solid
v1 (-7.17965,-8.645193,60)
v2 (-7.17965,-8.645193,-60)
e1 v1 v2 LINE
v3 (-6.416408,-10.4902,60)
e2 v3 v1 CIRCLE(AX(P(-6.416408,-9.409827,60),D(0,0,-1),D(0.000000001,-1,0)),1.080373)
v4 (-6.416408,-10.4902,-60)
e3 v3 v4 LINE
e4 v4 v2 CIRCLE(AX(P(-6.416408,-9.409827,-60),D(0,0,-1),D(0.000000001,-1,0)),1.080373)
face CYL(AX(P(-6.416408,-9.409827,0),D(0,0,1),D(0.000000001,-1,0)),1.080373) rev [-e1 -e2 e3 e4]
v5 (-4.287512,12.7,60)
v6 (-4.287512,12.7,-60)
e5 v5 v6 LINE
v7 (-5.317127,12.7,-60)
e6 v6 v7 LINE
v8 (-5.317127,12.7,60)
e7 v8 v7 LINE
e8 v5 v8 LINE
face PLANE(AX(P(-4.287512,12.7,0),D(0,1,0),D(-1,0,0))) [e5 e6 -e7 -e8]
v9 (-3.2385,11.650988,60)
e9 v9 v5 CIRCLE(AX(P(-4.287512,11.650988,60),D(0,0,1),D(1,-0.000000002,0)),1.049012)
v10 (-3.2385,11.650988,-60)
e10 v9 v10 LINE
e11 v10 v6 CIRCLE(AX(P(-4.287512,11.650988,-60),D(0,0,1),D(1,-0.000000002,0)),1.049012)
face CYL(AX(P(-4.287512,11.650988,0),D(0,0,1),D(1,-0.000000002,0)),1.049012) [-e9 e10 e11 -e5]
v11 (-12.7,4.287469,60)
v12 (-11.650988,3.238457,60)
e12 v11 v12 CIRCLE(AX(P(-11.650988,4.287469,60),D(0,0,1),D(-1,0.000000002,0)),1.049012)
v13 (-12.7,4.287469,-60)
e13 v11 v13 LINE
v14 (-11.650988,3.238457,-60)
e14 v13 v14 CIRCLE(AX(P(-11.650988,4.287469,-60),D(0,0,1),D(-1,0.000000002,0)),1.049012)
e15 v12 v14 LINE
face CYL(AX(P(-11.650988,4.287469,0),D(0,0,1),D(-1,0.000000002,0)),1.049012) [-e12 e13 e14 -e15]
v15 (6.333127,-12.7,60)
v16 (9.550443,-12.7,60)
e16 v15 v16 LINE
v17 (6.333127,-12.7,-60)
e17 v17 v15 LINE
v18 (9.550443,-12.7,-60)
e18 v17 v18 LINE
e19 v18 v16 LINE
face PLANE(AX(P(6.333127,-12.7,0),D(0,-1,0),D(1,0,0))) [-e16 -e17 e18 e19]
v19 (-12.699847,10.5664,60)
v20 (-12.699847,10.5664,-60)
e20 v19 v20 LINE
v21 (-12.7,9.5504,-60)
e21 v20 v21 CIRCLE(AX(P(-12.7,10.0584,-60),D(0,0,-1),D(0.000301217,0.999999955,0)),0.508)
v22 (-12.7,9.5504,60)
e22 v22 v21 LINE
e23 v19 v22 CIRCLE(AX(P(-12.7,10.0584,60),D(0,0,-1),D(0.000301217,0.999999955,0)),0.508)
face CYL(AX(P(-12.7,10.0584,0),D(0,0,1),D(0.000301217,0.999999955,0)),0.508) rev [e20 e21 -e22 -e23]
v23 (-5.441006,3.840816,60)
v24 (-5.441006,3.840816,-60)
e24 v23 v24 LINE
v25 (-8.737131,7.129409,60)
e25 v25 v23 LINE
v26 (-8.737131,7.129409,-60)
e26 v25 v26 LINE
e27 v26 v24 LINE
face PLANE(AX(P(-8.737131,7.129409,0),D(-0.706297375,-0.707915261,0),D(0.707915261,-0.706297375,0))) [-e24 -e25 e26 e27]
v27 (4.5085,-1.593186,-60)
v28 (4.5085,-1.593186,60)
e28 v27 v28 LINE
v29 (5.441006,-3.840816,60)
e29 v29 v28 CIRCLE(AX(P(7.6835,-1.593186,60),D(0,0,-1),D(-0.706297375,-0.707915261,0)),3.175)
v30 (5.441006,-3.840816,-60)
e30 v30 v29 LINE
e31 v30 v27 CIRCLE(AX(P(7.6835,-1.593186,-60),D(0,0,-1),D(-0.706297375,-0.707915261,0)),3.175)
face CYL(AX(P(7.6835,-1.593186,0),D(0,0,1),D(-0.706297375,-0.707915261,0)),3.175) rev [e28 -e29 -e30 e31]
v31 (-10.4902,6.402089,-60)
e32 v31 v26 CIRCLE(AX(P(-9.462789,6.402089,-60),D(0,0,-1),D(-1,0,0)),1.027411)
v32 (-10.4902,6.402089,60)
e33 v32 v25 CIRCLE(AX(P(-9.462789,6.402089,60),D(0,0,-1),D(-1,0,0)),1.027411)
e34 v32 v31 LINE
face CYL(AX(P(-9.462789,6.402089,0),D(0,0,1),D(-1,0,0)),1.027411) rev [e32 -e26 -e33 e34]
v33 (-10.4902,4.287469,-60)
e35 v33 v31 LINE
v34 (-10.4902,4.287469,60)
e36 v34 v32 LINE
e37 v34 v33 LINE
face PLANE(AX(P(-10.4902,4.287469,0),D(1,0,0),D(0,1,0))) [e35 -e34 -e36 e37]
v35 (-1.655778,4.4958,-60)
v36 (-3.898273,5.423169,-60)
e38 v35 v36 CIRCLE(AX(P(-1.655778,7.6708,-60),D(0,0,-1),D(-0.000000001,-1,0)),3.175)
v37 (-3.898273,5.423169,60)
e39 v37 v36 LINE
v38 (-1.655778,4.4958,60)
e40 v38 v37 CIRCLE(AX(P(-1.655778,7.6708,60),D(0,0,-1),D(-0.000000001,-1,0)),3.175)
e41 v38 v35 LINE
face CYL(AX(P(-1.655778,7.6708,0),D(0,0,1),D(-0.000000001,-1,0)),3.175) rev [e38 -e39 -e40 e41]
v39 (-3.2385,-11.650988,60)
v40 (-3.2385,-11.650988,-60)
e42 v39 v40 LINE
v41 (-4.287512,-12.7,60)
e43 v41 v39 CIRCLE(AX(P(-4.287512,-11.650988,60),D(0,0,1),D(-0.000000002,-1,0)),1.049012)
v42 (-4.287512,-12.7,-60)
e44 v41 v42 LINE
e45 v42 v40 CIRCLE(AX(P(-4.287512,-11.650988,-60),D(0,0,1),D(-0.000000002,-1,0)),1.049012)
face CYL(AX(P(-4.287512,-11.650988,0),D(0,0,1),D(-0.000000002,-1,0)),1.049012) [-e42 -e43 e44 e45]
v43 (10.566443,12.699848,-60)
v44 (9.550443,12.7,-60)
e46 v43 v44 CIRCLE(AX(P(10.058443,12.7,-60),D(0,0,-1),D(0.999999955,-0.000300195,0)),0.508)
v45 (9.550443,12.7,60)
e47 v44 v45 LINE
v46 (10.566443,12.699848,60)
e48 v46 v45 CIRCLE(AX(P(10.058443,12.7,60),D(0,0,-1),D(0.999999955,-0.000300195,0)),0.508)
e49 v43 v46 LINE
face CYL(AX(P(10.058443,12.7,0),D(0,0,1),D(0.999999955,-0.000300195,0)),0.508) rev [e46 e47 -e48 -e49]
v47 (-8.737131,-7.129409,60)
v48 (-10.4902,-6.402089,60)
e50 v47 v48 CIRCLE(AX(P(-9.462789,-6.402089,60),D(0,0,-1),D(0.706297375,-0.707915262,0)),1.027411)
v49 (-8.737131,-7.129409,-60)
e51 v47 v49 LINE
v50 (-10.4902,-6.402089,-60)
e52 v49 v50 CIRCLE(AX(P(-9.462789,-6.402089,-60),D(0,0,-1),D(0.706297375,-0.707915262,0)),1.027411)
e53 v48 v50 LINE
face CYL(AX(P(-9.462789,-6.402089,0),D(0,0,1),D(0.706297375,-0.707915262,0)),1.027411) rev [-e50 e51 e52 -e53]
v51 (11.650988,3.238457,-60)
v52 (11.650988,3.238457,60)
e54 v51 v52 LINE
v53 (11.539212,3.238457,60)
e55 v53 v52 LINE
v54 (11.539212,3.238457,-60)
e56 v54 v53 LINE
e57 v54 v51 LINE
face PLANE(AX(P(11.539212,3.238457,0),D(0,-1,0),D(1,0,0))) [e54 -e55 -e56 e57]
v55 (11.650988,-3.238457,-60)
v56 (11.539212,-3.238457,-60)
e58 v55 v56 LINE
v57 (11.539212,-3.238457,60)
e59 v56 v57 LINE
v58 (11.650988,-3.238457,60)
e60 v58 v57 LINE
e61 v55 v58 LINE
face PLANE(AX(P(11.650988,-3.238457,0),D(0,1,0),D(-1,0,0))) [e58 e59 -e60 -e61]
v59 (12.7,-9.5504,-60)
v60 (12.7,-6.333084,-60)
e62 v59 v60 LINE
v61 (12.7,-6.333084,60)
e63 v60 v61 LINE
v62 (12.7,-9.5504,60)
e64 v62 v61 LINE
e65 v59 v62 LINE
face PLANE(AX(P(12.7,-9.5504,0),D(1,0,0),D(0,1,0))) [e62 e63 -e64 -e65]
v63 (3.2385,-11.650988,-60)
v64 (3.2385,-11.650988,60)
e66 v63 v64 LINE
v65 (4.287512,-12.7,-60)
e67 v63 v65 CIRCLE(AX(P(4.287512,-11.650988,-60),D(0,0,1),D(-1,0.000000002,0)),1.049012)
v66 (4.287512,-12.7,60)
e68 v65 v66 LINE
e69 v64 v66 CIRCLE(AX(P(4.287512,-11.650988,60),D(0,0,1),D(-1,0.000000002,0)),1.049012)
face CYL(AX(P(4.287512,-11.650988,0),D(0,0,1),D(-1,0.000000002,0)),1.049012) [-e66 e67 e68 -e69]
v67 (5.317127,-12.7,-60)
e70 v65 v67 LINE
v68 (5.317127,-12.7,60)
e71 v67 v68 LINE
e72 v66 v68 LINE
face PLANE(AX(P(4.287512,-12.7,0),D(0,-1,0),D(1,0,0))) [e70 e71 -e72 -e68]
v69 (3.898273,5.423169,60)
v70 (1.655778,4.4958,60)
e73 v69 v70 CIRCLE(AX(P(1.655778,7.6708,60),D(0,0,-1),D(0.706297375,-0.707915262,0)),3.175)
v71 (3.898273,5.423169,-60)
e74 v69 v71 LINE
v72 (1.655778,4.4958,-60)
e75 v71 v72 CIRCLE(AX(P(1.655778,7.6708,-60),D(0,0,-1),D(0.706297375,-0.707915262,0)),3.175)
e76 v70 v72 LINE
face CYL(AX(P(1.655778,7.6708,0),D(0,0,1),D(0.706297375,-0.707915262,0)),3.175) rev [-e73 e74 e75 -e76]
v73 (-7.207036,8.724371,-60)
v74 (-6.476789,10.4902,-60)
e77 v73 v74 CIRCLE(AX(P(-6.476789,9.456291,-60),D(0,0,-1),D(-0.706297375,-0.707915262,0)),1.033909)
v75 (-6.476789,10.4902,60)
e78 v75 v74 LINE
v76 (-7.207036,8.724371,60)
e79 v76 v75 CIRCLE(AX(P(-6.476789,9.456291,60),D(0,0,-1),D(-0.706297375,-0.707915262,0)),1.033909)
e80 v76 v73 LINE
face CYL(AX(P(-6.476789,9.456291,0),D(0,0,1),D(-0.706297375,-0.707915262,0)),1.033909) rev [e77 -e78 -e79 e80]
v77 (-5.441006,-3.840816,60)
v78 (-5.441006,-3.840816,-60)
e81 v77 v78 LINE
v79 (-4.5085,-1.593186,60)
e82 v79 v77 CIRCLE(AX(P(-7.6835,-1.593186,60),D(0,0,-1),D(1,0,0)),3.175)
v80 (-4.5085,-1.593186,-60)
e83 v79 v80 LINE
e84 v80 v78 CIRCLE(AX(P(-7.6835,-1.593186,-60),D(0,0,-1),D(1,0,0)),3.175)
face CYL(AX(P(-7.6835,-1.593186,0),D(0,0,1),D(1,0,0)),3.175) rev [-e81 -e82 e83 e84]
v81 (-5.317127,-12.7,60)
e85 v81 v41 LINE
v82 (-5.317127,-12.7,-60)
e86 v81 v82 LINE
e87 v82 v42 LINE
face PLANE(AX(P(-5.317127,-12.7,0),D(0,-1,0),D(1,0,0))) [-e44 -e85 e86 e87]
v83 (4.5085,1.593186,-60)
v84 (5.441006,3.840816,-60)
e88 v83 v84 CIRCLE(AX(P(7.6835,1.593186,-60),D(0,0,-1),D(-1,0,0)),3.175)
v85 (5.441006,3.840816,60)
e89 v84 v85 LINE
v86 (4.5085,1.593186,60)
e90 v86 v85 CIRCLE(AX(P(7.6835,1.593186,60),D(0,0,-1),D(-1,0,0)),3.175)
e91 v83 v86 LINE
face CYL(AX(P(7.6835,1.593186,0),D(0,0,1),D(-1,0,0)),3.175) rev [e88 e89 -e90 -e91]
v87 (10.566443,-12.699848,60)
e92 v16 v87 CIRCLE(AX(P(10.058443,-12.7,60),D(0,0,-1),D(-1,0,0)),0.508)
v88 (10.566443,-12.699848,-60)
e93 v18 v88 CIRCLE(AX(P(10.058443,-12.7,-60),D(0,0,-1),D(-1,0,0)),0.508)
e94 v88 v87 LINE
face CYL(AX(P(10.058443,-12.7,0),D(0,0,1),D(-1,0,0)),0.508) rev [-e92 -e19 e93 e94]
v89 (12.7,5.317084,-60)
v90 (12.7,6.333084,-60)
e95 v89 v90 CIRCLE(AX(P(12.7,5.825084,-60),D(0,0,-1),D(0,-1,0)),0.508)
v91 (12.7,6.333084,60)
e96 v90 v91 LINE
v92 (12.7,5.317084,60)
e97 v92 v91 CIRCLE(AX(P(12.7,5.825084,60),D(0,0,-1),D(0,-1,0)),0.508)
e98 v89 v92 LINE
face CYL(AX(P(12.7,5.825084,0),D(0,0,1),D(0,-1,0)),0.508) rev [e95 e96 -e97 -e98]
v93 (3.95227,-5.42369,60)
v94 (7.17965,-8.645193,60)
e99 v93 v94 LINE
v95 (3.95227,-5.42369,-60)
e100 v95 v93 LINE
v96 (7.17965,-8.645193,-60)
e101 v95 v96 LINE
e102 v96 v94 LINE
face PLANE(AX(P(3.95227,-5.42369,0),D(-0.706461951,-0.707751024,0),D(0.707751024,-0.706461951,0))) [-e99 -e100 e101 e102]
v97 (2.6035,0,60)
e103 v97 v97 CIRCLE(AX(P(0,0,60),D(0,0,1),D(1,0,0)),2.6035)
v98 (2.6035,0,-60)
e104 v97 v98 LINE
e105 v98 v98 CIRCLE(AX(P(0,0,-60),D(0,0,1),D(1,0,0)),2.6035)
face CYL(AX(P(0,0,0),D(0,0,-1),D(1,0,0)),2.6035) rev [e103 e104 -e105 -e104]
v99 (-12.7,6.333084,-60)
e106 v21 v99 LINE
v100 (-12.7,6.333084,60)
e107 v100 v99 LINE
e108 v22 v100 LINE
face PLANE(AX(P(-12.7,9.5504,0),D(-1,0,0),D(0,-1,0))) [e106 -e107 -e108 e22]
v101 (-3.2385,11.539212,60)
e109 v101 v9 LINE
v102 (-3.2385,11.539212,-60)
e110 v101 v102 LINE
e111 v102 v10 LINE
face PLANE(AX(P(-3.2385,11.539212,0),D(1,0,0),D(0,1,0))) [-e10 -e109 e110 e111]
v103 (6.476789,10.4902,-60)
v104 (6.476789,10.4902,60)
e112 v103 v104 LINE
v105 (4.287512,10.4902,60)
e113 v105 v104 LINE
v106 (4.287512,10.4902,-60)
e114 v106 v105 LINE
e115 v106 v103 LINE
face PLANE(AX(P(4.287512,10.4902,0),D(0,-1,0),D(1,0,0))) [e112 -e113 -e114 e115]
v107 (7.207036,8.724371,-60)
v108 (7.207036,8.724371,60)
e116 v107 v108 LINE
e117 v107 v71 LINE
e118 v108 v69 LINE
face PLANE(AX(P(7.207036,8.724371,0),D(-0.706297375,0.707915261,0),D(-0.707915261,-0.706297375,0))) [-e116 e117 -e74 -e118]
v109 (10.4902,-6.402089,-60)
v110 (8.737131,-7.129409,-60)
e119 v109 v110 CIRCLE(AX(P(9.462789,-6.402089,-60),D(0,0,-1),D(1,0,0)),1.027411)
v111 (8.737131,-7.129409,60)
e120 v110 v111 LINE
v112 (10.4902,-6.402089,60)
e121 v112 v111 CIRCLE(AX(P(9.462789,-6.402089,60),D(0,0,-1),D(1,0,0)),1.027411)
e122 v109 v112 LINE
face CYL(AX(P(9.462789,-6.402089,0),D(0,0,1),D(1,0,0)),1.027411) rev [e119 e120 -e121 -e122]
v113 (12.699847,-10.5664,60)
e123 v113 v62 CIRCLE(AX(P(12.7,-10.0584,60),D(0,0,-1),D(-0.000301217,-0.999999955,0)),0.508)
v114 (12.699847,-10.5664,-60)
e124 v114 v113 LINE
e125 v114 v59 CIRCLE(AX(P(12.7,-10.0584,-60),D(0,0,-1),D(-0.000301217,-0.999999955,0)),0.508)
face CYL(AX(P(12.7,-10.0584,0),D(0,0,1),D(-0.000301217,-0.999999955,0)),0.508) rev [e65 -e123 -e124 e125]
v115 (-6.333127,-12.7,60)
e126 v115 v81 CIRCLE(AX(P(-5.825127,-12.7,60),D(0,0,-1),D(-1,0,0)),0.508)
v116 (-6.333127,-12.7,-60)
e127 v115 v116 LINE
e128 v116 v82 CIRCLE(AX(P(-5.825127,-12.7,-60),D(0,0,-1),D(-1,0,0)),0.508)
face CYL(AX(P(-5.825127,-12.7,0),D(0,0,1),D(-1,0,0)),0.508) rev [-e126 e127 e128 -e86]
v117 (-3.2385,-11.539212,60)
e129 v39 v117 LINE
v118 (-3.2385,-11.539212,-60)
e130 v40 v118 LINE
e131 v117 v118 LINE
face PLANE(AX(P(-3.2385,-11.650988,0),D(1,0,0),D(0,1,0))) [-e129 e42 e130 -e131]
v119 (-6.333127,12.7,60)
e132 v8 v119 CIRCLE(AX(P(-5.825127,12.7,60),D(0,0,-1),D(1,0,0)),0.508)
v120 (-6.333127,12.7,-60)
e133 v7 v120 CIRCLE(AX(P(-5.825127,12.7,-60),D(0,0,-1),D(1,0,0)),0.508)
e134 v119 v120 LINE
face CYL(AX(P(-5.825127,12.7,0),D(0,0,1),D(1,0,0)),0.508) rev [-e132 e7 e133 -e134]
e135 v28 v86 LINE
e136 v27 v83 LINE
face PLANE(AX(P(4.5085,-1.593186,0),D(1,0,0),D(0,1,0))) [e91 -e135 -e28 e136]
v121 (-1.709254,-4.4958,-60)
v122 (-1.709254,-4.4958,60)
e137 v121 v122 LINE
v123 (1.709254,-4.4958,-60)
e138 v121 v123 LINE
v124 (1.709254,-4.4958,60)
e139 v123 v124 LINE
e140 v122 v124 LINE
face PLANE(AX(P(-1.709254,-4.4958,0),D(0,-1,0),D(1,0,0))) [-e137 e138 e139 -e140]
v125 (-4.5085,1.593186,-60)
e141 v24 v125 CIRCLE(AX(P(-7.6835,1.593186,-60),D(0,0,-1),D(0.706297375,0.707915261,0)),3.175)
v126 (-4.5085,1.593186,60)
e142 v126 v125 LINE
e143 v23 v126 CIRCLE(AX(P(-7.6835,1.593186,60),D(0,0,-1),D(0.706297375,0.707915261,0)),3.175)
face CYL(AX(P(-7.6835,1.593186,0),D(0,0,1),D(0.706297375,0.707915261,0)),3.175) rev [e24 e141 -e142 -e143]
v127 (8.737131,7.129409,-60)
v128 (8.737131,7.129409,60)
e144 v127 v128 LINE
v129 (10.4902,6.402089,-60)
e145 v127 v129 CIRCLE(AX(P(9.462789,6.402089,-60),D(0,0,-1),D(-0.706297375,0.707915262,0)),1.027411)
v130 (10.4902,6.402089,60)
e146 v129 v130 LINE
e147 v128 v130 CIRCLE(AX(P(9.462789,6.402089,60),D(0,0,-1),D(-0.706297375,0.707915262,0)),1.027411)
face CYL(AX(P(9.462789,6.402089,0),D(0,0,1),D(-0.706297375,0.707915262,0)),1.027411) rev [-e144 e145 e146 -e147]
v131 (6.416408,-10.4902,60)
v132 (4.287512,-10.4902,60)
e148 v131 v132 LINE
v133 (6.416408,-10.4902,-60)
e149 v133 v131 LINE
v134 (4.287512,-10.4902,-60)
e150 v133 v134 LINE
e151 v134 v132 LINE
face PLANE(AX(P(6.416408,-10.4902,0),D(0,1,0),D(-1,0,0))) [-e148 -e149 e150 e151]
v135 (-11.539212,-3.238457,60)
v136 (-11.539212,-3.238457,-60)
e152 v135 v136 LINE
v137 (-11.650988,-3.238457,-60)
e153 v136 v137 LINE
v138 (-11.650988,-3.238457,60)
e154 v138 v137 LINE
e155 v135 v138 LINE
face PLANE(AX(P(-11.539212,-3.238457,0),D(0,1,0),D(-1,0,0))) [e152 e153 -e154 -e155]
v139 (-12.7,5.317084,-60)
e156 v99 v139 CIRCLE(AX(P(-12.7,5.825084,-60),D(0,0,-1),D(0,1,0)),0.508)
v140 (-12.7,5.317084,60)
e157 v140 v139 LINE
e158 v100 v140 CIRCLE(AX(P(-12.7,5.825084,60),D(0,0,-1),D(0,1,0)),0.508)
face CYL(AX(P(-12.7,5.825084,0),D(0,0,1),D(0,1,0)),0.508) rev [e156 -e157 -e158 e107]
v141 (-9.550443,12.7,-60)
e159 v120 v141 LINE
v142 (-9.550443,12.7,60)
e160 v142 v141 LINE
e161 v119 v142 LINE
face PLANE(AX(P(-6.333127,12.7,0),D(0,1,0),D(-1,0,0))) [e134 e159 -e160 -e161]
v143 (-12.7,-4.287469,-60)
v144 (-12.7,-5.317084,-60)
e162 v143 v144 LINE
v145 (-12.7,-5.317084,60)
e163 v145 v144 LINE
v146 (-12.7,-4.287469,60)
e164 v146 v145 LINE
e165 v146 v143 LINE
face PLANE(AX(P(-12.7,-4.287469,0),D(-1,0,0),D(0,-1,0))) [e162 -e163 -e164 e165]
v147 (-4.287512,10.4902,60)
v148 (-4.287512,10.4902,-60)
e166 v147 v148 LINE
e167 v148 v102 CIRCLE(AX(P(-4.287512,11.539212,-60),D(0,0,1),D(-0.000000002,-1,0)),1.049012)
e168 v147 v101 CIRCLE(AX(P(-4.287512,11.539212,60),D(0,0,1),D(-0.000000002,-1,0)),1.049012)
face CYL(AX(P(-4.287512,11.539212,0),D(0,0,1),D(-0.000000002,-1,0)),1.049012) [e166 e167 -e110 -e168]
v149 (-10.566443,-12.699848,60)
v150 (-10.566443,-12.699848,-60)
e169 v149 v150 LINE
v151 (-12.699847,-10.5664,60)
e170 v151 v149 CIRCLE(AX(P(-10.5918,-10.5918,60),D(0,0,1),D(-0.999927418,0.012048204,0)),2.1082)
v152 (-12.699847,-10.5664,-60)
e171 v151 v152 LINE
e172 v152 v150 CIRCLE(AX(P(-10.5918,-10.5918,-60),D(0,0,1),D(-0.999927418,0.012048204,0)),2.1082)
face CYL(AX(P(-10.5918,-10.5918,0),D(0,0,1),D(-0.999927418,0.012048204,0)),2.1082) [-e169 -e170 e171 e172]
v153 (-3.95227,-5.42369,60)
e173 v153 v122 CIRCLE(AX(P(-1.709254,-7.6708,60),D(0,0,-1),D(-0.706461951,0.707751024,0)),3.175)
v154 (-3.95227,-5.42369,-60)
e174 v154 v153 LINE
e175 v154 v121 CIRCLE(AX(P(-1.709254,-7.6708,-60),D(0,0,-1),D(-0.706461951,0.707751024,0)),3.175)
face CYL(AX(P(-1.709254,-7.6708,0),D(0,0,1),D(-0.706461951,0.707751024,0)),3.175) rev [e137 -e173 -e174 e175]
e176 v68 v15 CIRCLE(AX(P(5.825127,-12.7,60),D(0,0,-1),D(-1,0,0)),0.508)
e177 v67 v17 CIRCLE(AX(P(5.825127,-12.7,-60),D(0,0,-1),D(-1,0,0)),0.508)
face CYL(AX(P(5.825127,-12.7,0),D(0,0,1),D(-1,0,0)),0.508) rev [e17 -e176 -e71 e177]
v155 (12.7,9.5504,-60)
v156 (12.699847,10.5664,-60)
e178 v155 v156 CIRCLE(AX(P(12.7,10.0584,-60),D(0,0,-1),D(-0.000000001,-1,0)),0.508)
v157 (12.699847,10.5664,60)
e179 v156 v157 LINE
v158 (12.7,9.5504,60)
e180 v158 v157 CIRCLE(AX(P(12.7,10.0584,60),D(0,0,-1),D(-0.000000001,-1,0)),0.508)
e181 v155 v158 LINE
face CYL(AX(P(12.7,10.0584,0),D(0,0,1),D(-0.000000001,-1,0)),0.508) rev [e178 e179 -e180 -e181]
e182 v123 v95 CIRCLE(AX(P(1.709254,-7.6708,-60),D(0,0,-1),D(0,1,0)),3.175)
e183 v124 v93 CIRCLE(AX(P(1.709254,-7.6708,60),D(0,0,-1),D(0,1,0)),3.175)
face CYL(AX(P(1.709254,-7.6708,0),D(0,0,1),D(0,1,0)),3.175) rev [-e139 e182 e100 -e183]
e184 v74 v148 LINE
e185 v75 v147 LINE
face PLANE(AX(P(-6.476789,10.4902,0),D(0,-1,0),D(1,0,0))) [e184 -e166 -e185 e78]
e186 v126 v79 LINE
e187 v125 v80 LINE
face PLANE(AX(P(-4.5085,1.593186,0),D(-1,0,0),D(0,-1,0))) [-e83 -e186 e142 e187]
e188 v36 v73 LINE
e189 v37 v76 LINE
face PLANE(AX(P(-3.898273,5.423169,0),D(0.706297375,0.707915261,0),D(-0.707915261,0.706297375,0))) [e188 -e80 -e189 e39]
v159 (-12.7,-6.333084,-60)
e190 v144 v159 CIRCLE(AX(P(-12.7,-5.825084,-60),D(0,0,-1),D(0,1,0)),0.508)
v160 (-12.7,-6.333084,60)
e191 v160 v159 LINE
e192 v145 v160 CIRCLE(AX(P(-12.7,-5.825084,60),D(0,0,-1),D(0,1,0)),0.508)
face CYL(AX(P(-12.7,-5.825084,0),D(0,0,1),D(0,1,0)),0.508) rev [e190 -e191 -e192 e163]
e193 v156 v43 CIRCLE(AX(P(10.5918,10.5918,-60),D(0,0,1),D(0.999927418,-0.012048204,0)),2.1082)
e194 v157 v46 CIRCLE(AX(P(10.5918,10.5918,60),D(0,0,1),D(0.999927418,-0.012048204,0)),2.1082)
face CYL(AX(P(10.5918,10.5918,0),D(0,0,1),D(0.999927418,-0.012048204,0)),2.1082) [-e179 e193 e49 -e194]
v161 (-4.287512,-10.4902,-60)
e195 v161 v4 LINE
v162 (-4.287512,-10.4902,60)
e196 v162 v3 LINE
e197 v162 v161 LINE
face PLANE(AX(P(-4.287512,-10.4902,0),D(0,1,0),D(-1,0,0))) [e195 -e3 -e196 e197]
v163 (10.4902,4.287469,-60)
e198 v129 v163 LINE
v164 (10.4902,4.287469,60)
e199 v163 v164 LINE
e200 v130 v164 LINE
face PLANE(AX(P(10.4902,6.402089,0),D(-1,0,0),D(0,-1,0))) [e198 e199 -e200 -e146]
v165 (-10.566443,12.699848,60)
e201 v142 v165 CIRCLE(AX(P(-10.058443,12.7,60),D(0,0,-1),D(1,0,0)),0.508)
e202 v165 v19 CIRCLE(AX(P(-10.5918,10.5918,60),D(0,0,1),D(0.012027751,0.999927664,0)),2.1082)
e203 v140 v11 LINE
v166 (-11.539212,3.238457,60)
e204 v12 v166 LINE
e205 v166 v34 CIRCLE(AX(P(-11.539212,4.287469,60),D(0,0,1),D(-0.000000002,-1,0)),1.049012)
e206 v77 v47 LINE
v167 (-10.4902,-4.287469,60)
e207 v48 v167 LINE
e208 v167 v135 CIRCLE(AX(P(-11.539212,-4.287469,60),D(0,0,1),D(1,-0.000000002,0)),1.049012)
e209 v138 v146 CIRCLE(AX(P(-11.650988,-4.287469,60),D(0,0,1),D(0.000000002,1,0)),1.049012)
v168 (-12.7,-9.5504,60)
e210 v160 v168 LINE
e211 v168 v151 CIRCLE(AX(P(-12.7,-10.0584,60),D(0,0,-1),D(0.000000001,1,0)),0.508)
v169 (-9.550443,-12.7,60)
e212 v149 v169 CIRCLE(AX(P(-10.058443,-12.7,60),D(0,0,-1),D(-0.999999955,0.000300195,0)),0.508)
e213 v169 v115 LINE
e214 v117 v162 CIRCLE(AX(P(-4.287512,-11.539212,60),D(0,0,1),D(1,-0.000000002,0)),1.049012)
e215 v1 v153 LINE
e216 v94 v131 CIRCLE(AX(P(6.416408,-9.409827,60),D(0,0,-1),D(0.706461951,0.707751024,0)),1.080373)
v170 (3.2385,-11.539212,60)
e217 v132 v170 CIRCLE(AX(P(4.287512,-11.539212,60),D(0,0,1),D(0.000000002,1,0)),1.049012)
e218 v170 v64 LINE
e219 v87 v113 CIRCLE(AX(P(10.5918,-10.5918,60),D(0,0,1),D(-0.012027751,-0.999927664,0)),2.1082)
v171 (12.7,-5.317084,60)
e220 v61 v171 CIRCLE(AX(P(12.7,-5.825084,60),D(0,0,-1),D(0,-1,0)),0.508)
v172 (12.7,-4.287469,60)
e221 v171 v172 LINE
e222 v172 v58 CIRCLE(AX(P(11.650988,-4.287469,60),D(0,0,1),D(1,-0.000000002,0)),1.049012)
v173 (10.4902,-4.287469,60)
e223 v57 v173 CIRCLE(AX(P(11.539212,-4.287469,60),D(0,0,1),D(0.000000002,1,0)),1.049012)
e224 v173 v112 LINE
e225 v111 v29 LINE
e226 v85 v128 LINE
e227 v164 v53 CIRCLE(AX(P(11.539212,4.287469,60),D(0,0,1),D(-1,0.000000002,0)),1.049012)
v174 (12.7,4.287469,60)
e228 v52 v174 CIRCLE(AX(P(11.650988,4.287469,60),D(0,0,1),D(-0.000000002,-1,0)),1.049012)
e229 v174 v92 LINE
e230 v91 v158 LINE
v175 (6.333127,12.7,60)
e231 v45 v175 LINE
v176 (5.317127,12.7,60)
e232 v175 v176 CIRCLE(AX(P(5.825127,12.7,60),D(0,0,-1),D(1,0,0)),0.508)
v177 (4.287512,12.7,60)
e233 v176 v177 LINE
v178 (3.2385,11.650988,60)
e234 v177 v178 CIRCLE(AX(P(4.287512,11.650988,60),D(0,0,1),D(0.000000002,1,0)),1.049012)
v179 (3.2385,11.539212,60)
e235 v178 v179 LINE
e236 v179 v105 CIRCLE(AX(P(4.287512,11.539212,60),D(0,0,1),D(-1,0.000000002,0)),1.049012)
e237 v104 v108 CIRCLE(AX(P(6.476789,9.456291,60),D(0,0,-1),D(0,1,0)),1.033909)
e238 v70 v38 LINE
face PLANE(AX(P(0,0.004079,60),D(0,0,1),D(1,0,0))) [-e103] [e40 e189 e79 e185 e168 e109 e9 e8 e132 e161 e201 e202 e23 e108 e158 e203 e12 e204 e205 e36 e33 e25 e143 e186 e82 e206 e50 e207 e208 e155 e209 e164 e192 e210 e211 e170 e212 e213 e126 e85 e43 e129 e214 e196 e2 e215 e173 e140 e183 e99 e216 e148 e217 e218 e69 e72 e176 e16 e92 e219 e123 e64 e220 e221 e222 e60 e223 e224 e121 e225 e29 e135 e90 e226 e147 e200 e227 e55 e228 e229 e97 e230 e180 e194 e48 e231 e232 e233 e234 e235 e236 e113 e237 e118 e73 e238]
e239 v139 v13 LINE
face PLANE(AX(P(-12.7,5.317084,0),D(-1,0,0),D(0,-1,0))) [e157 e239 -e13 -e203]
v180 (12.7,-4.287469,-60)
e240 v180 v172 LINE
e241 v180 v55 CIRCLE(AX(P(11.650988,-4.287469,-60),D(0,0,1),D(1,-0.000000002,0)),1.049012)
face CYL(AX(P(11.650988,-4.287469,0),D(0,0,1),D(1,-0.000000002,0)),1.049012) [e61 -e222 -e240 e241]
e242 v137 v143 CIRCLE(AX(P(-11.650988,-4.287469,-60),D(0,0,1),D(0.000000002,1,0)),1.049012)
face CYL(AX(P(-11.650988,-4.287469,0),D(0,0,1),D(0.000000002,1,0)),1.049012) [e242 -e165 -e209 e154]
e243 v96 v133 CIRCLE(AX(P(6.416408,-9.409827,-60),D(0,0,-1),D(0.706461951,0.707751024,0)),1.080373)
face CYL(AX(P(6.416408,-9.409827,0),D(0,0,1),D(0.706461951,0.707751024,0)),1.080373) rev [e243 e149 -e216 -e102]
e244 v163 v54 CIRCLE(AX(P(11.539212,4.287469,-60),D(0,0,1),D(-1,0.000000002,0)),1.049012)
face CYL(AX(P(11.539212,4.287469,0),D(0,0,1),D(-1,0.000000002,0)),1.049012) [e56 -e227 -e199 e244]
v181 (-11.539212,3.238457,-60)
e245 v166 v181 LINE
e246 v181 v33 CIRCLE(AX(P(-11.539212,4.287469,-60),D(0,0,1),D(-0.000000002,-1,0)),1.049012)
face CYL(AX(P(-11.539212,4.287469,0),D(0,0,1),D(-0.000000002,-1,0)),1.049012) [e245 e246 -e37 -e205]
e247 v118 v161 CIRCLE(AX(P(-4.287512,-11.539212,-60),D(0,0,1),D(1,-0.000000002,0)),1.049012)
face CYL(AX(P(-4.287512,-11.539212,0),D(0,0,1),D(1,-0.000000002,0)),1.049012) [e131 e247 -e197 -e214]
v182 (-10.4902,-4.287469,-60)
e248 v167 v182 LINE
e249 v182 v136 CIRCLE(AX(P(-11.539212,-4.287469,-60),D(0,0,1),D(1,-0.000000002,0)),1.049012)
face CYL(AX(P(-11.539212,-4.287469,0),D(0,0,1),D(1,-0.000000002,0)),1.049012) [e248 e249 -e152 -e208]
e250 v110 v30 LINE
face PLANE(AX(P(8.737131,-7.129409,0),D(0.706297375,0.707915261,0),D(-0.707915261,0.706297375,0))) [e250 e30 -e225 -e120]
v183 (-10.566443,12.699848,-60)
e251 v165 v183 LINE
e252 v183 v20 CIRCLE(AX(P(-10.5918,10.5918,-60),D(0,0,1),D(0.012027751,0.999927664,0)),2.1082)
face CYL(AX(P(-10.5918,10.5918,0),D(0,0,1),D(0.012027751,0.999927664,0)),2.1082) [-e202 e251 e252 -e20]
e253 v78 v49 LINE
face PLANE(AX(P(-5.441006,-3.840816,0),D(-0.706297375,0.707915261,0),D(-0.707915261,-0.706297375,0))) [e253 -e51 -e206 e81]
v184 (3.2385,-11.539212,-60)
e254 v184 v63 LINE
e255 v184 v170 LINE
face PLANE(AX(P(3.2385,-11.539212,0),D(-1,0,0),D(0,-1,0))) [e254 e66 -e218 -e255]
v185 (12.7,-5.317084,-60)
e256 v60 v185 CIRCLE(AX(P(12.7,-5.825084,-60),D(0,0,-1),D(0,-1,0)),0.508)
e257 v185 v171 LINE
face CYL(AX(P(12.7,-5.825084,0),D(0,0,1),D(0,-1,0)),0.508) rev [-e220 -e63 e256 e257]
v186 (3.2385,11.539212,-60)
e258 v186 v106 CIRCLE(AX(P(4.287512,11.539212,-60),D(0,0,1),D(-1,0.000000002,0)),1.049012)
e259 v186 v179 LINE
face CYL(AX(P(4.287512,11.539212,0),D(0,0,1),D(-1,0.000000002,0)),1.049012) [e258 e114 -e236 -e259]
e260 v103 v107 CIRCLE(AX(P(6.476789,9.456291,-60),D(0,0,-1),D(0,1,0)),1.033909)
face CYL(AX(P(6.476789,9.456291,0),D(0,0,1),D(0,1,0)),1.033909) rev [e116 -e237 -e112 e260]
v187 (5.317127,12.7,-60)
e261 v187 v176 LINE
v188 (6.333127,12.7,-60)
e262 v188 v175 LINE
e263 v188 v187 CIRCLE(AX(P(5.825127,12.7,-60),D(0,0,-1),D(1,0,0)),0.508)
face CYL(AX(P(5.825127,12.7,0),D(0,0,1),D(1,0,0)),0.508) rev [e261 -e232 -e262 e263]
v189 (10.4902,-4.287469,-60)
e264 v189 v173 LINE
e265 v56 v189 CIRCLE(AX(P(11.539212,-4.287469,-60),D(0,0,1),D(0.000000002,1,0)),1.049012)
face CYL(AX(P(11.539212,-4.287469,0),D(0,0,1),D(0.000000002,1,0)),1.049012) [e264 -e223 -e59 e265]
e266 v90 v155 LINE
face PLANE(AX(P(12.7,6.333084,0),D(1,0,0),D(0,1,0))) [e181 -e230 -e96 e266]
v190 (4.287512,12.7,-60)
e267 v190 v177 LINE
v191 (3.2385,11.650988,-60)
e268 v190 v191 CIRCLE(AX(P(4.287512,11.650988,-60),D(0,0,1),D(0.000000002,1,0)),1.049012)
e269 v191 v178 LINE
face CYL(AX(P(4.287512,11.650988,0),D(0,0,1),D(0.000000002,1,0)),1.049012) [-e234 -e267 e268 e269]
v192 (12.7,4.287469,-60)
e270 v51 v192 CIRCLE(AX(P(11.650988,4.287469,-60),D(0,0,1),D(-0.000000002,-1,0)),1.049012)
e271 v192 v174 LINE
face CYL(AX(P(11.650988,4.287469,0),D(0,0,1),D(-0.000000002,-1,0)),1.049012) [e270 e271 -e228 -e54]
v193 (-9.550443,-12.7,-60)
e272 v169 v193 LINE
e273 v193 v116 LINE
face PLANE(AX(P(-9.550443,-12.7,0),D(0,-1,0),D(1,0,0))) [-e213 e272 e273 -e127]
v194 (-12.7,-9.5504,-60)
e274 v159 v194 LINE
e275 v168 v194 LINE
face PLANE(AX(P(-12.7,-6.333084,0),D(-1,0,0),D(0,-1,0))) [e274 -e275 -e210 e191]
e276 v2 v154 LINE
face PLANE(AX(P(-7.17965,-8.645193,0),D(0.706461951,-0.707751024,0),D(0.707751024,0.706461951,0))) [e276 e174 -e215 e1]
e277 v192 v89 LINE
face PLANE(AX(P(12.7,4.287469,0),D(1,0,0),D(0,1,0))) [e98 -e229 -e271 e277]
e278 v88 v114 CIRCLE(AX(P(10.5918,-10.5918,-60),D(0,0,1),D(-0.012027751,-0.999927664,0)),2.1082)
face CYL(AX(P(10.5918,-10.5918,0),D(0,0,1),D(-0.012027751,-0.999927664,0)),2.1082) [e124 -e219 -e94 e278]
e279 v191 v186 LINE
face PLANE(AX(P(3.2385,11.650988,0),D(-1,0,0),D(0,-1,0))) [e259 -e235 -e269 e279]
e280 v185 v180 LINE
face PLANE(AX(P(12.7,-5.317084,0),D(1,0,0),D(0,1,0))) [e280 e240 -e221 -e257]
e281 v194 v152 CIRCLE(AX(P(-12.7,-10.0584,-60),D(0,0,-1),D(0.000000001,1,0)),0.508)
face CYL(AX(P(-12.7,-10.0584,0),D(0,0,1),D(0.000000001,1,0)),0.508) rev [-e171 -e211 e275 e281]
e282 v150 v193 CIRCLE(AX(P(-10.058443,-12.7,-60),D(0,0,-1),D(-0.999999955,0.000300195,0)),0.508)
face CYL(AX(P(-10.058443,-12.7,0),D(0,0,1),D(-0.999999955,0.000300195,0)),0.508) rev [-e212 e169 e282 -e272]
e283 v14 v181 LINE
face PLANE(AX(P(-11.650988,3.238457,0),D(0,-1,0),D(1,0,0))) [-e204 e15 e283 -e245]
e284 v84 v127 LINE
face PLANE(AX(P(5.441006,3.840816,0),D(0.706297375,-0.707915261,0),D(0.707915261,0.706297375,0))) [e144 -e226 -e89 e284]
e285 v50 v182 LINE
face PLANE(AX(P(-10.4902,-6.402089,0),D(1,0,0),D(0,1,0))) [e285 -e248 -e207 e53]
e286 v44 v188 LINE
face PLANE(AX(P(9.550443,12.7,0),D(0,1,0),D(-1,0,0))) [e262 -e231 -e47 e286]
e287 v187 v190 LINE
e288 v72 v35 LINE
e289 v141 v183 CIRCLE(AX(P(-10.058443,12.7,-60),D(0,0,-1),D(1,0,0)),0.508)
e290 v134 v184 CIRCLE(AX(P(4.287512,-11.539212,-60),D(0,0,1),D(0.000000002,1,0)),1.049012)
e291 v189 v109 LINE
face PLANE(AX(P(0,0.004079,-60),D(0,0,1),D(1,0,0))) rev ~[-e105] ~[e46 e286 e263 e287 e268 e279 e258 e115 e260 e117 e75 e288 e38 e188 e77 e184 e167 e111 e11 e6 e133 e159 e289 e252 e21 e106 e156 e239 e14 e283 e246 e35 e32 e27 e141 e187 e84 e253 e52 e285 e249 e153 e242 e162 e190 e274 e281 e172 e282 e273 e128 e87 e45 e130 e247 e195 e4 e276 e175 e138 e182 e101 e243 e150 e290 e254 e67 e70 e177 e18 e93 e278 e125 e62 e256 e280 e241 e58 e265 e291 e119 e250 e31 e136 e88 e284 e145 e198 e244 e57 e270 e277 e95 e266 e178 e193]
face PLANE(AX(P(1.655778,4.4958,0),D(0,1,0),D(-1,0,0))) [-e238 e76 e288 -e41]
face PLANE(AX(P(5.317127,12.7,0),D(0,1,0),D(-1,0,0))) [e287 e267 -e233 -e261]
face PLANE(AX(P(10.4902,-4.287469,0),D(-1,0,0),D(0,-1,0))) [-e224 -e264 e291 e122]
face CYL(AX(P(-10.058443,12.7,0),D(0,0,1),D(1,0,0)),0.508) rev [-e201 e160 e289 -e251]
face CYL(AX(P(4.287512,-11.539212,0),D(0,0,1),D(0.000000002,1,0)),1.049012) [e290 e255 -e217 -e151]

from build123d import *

# Parameters (mm, degrees)
SKETCH1_R           = 2.6035
BOSS_EXTRUDE1_DEPTH = 60


with BuildPart() as part:
    # Sketch1 → Boss-Extrude1 (new, symmetric)
    with BuildSketch(Plane.XY):
        with BuildLine():
            Line((-7.179650497, -8.645192506), (-3.952270251, -5.423690499))
            ThreePointArc((-3.952270251, -5.423690499), (-2.922936451, -4.736929036), (-1.709253557, -4.4958))
            Line((-1.709253557, -4.4958), (1.709253557, -4.4958))
            ThreePointArc((1.709253557, -4.4958), (2.922936451, -4.736929036), (3.952270251, -5.423690499))
            Line((3.952270251, -5.423690499), (7.179650497, -8.645192506))
            ThreePointArc((7.179650497, -8.645192506), (7.41473083, -9.822813117), (6.416408329, -10.4902))
            Line((6.416408329, -10.4902), (4.287512407, -10.4902))
            ThreePointArc((4.287512407, -10.4902), (3.54574862, -10.79744862), (3.2385, -11.539212407))
            Line((3.2385, -11.539212407), (3.2385, -11.650987593))
            ThreePointArc((3.2385, -11.650987593), (3.54574862, -12.39275138), (4.287512407, -12.7))
            Line((4.287512407, -12.7), (5.317126718, -12.7))
            ThreePointArc((5.317126718, -12.7), (5.825126718, -12.192), (6.333126718, -12.7))
            Line((6.333126718, -12.7), (9.550443118, -12.7))
            ThreePointArc((9.550443118, -12.7), (10.058366869, -12.192000006), (10.566443095, -12.699847501))
            ThreePointArc((10.566443095, -12.699847501), (12.082537762, -12.08250727), (12.699846982, -10.566399977))
            ThreePointArc((12.699846982, -10.566399977), (12.192000006, -10.058323491), (12.7, -9.5504))
            Line((12.7, -9.5504), (12.7, -6.3330836))
            ThreePointArc((12.7, -6.3330836), (12.192, -5.8250836), (12.7, -5.3170836))
            Line((12.7, -5.3170836), (12.7, -4.287469289))
            ThreePointArc((12.7, -4.287469289), (12.39275138, -3.545705502), (11.650987593, -3.238456882))
            Line((11.650987593, -3.238456882), (11.539212407, -3.238456882))
            ThreePointArc((11.539212407, -3.238456882), (10.79744862, -3.545705502), (10.4902, -4.287469289))
            Line((10.4902, -4.287469289), (10.4902, -6.402089023))
            ThreePointArc((10.4902, -6.402089023), (9.856505071, -7.351067942), (8.737131347, -7.129408934))
            Line((8.737131347, -7.129408934), (5.441005833, -3.840816462))
            ThreePointArc((5.441005833, -3.840816462), (4.750877967, -2.809883091), (4.5085, -1.593185507))
            Line((4.5085, -1.593185507), (4.5085, 1.593185507))
            ThreePointArc((4.5085, 1.593185507), (4.750877967, 2.809883091), (5.441005833, 3.840816462))
            Line((5.441005833, 3.840816462), (8.737131347, 7.129408934))
            ThreePointArc((8.737131347, 7.129408934), (9.856505071, 7.351067942), (10.4902, 6.402089023))
            Line((10.4902, 6.402089023), (10.4902, 4.287469289))
            ThreePointArc((10.4902, 4.287469289), (10.79744862, 3.545705502), (11.539212407, 3.238456882))
            Line((11.539212407, 3.238456882), (11.650987593, 3.238456882))
            ThreePointArc((11.650987593, 3.238456882), (12.39275138, 3.545705502), (12.7, 4.287469289))
            Line((12.7, 4.287469289), (12.7, 5.3170836))
            ThreePointArc((12.7, 5.3170836), (12.192, 5.8250836), (12.7, 6.3330836))
            Line((12.7, 6.3330836), (12.7, 9.5504))
            ThreePointArc((12.7, 9.5504), (12.192000006, 10.058323491), (12.699846982, 10.566399977))
            ThreePointArc((12.699846982, 10.566399977), (12.082537762, 12.08250727), (10.566443095, 12.699847501))
            ThreePointArc((10.566443095, 12.699847501), (10.058366869, 12.192000006), (9.550443118, 12.7))
            Line((9.550443118, 12.7), (6.333126718, 12.7))
            ThreePointArc((6.333126718, 12.7), (5.825126718, 12.192), (5.317126718, 12.7))
            Line((5.317126718, 12.7), (4.287512407, 12.7))
            ThreePointArc((4.287512407, 12.7), (3.54574862, 12.39275138), (3.2385, 11.650987593))
            Line((3.2385, 11.650987593), (3.2385, 11.539212407))
            ThreePointArc((3.2385, 11.539212407), (3.54574862, 10.79744862), (4.287512407, 10.4902))
            Line((4.287512407, 10.4902), (6.476788598, 10.4902))
            ThreePointArc((6.476788598, 10.4902), (7.432222385, 9.85140422), (7.207036008, 8.724370562))
            Line((7.207036008, 8.724370562), (3.898272566, 5.423169045))
            ThreePointArc((3.898272566, 5.423169045), (2.869120213, 4.736787962), (1.655778399, 4.4958))
            Line((1.655778399, 4.4958), (-1.655778399, 4.4958))
            ThreePointArc((-1.655778399, 4.4958), (-2.869120213, 4.736787962), (-3.898272566, 5.423169045))
            Line((-3.898272566, 5.423169045), (-7.207036008, 8.724370562))
            ThreePointArc((-7.207036008, 8.724370562), (-7.432222385, 9.85140422), (-6.476788598, 10.4902))
            Line((-6.476788598, 10.4902), (-4.287512407, 10.4902))
            ThreePointArc((-4.287512407, 10.4902), (-3.54574862, 10.79744862), (-3.2385, 11.539212407))
            Line((-3.2385, 11.539212407), (-3.2385, 11.650987593))
            ThreePointArc((-3.2385, 11.650987593), (-3.54574862, 12.39275138), (-4.287512407, 12.7))
            Line((-4.287512407, 12.7), (-5.317126718, 12.7))
            ThreePointArc((-5.317126718, 12.7), (-5.825126718, 12.192), (-6.333126718, 12.7))
            Line((-6.333126718, 12.7), (-9.550443118, 12.7))
            ThreePointArc((-9.550443118, 12.7), (-10.058366869, 12.192000006), (-10.566443095, 12.699847501))
            ThreePointArc((-10.566443095, 12.699847501), (-12.082537762, 12.08250727), (-12.699846982, 10.566399977))
            ThreePointArc((-12.699846982, 10.566399977), (-12.192000006, 10.058323491), (-12.7, 9.5504))
            Line((-12.7, 9.5504), (-12.7, 6.3330836))
            ThreePointArc((-12.7, 6.3330836), (-12.192, 5.8250836), (-12.7, 5.3170836))
            Line((-12.7, 5.3170836), (-12.7, 4.287469289))
            ThreePointArc((-12.7, 4.287469289), (-12.39275138, 3.545705502), (-11.650987593, 3.238456882))
            Line((-11.650987593, 3.238456882), (-11.539212407, 3.238456882))
            ThreePointArc((-11.539212407, 3.238456882), (-10.79744862, 3.545705502), (-10.4902, 4.287469289))
            Line((-10.4902, 4.287469289), (-10.4902, 6.402089023))
            ThreePointArc((-10.4902, 6.402089023), (-9.856505071, 7.351067942), (-8.737131347, 7.129408934))
            Line((-8.737131347, 7.129408934), (-5.441005833, 3.840816462))
            ThreePointArc((-5.441005833, 3.840816462), (-4.750877967, 2.809883091), (-4.5085, 1.593185507))
            Line((-4.5085, 1.593185507), (-4.5085, -1.593185507))
            ThreePointArc((-4.5085, -1.593185507), (-4.750877967, -2.809883091), (-5.441005833, -3.840816462))
            Line((-5.441005833, -3.840816462), (-8.737131347, -7.129408934))
            ThreePointArc((-8.737131347, -7.129408934), (-9.856505071, -7.351067942), (-10.4902, -6.402089023))
            Line((-10.4902, -6.402089023), (-10.4902, -4.287469289))
            ThreePointArc((-10.4902, -4.287469289), (-10.79744862, -3.545705502), (-11.539212407, -3.238456882))
            Line((-11.539212407, -3.238456882), (-11.650987593, -3.238456882))
            ThreePointArc((-11.650987593, -3.238456882), (-12.39275138, -3.545705502), (-12.7, -4.287469289))
            Line((-12.7, -4.287469289), (-12.7, -5.3170836))
            ThreePointArc((-12.7, -5.3170836), (-12.192, -5.8250836), (-12.7, -6.3330836))
            Line((-12.7, -6.3330836), (-12.7, -9.5504))
            ThreePointArc((-12.7, -9.5504), (-12.192000006, -10.058323491), (-12.699846982, -10.566399977))
            ThreePointArc((-12.699846982, -10.566399977), (-12.082537762, -12.08250727), (-10.566443095, -12.699847501))
            ThreePointArc((-10.566443095, -12.699847501), (-10.058366869, -12.192000006), (-9.550443118, -12.7))
            Line((-9.550443118, -12.7), (-6.333126718, -12.7))
            ThreePointArc((-6.333126718, -12.7), (-5.825126718, -12.192), (-5.317126718, -12.7))
            Line((-5.317126718, -12.7), (-4.287512407, -12.7))
            ThreePointArc((-4.287512407, -12.7), (-3.54574862, -12.39275138), (-3.2385, -11.650987593))
            Line((-3.2385, -11.650987593), (-3.2385, -11.539212407))
            ThreePointArc((-3.2385, -11.539212407), (-3.54574862, -10.79744862), (-4.287512407, -10.4902))
            Line((-4.287512407, -10.4902), (-6.416408329, -10.4902))
            ThreePointArc((-6.416408329, -10.4902), (-7.41473083, -9.822813117), (-7.179650497, -8.645192506))
        make_face()
        Circle(SKETCH1_R, mode=Mode.SUBTRACT)
    extrude(amount=BOSS_EXTRUDE1_DEPTH, both=True)


solid = part.part
